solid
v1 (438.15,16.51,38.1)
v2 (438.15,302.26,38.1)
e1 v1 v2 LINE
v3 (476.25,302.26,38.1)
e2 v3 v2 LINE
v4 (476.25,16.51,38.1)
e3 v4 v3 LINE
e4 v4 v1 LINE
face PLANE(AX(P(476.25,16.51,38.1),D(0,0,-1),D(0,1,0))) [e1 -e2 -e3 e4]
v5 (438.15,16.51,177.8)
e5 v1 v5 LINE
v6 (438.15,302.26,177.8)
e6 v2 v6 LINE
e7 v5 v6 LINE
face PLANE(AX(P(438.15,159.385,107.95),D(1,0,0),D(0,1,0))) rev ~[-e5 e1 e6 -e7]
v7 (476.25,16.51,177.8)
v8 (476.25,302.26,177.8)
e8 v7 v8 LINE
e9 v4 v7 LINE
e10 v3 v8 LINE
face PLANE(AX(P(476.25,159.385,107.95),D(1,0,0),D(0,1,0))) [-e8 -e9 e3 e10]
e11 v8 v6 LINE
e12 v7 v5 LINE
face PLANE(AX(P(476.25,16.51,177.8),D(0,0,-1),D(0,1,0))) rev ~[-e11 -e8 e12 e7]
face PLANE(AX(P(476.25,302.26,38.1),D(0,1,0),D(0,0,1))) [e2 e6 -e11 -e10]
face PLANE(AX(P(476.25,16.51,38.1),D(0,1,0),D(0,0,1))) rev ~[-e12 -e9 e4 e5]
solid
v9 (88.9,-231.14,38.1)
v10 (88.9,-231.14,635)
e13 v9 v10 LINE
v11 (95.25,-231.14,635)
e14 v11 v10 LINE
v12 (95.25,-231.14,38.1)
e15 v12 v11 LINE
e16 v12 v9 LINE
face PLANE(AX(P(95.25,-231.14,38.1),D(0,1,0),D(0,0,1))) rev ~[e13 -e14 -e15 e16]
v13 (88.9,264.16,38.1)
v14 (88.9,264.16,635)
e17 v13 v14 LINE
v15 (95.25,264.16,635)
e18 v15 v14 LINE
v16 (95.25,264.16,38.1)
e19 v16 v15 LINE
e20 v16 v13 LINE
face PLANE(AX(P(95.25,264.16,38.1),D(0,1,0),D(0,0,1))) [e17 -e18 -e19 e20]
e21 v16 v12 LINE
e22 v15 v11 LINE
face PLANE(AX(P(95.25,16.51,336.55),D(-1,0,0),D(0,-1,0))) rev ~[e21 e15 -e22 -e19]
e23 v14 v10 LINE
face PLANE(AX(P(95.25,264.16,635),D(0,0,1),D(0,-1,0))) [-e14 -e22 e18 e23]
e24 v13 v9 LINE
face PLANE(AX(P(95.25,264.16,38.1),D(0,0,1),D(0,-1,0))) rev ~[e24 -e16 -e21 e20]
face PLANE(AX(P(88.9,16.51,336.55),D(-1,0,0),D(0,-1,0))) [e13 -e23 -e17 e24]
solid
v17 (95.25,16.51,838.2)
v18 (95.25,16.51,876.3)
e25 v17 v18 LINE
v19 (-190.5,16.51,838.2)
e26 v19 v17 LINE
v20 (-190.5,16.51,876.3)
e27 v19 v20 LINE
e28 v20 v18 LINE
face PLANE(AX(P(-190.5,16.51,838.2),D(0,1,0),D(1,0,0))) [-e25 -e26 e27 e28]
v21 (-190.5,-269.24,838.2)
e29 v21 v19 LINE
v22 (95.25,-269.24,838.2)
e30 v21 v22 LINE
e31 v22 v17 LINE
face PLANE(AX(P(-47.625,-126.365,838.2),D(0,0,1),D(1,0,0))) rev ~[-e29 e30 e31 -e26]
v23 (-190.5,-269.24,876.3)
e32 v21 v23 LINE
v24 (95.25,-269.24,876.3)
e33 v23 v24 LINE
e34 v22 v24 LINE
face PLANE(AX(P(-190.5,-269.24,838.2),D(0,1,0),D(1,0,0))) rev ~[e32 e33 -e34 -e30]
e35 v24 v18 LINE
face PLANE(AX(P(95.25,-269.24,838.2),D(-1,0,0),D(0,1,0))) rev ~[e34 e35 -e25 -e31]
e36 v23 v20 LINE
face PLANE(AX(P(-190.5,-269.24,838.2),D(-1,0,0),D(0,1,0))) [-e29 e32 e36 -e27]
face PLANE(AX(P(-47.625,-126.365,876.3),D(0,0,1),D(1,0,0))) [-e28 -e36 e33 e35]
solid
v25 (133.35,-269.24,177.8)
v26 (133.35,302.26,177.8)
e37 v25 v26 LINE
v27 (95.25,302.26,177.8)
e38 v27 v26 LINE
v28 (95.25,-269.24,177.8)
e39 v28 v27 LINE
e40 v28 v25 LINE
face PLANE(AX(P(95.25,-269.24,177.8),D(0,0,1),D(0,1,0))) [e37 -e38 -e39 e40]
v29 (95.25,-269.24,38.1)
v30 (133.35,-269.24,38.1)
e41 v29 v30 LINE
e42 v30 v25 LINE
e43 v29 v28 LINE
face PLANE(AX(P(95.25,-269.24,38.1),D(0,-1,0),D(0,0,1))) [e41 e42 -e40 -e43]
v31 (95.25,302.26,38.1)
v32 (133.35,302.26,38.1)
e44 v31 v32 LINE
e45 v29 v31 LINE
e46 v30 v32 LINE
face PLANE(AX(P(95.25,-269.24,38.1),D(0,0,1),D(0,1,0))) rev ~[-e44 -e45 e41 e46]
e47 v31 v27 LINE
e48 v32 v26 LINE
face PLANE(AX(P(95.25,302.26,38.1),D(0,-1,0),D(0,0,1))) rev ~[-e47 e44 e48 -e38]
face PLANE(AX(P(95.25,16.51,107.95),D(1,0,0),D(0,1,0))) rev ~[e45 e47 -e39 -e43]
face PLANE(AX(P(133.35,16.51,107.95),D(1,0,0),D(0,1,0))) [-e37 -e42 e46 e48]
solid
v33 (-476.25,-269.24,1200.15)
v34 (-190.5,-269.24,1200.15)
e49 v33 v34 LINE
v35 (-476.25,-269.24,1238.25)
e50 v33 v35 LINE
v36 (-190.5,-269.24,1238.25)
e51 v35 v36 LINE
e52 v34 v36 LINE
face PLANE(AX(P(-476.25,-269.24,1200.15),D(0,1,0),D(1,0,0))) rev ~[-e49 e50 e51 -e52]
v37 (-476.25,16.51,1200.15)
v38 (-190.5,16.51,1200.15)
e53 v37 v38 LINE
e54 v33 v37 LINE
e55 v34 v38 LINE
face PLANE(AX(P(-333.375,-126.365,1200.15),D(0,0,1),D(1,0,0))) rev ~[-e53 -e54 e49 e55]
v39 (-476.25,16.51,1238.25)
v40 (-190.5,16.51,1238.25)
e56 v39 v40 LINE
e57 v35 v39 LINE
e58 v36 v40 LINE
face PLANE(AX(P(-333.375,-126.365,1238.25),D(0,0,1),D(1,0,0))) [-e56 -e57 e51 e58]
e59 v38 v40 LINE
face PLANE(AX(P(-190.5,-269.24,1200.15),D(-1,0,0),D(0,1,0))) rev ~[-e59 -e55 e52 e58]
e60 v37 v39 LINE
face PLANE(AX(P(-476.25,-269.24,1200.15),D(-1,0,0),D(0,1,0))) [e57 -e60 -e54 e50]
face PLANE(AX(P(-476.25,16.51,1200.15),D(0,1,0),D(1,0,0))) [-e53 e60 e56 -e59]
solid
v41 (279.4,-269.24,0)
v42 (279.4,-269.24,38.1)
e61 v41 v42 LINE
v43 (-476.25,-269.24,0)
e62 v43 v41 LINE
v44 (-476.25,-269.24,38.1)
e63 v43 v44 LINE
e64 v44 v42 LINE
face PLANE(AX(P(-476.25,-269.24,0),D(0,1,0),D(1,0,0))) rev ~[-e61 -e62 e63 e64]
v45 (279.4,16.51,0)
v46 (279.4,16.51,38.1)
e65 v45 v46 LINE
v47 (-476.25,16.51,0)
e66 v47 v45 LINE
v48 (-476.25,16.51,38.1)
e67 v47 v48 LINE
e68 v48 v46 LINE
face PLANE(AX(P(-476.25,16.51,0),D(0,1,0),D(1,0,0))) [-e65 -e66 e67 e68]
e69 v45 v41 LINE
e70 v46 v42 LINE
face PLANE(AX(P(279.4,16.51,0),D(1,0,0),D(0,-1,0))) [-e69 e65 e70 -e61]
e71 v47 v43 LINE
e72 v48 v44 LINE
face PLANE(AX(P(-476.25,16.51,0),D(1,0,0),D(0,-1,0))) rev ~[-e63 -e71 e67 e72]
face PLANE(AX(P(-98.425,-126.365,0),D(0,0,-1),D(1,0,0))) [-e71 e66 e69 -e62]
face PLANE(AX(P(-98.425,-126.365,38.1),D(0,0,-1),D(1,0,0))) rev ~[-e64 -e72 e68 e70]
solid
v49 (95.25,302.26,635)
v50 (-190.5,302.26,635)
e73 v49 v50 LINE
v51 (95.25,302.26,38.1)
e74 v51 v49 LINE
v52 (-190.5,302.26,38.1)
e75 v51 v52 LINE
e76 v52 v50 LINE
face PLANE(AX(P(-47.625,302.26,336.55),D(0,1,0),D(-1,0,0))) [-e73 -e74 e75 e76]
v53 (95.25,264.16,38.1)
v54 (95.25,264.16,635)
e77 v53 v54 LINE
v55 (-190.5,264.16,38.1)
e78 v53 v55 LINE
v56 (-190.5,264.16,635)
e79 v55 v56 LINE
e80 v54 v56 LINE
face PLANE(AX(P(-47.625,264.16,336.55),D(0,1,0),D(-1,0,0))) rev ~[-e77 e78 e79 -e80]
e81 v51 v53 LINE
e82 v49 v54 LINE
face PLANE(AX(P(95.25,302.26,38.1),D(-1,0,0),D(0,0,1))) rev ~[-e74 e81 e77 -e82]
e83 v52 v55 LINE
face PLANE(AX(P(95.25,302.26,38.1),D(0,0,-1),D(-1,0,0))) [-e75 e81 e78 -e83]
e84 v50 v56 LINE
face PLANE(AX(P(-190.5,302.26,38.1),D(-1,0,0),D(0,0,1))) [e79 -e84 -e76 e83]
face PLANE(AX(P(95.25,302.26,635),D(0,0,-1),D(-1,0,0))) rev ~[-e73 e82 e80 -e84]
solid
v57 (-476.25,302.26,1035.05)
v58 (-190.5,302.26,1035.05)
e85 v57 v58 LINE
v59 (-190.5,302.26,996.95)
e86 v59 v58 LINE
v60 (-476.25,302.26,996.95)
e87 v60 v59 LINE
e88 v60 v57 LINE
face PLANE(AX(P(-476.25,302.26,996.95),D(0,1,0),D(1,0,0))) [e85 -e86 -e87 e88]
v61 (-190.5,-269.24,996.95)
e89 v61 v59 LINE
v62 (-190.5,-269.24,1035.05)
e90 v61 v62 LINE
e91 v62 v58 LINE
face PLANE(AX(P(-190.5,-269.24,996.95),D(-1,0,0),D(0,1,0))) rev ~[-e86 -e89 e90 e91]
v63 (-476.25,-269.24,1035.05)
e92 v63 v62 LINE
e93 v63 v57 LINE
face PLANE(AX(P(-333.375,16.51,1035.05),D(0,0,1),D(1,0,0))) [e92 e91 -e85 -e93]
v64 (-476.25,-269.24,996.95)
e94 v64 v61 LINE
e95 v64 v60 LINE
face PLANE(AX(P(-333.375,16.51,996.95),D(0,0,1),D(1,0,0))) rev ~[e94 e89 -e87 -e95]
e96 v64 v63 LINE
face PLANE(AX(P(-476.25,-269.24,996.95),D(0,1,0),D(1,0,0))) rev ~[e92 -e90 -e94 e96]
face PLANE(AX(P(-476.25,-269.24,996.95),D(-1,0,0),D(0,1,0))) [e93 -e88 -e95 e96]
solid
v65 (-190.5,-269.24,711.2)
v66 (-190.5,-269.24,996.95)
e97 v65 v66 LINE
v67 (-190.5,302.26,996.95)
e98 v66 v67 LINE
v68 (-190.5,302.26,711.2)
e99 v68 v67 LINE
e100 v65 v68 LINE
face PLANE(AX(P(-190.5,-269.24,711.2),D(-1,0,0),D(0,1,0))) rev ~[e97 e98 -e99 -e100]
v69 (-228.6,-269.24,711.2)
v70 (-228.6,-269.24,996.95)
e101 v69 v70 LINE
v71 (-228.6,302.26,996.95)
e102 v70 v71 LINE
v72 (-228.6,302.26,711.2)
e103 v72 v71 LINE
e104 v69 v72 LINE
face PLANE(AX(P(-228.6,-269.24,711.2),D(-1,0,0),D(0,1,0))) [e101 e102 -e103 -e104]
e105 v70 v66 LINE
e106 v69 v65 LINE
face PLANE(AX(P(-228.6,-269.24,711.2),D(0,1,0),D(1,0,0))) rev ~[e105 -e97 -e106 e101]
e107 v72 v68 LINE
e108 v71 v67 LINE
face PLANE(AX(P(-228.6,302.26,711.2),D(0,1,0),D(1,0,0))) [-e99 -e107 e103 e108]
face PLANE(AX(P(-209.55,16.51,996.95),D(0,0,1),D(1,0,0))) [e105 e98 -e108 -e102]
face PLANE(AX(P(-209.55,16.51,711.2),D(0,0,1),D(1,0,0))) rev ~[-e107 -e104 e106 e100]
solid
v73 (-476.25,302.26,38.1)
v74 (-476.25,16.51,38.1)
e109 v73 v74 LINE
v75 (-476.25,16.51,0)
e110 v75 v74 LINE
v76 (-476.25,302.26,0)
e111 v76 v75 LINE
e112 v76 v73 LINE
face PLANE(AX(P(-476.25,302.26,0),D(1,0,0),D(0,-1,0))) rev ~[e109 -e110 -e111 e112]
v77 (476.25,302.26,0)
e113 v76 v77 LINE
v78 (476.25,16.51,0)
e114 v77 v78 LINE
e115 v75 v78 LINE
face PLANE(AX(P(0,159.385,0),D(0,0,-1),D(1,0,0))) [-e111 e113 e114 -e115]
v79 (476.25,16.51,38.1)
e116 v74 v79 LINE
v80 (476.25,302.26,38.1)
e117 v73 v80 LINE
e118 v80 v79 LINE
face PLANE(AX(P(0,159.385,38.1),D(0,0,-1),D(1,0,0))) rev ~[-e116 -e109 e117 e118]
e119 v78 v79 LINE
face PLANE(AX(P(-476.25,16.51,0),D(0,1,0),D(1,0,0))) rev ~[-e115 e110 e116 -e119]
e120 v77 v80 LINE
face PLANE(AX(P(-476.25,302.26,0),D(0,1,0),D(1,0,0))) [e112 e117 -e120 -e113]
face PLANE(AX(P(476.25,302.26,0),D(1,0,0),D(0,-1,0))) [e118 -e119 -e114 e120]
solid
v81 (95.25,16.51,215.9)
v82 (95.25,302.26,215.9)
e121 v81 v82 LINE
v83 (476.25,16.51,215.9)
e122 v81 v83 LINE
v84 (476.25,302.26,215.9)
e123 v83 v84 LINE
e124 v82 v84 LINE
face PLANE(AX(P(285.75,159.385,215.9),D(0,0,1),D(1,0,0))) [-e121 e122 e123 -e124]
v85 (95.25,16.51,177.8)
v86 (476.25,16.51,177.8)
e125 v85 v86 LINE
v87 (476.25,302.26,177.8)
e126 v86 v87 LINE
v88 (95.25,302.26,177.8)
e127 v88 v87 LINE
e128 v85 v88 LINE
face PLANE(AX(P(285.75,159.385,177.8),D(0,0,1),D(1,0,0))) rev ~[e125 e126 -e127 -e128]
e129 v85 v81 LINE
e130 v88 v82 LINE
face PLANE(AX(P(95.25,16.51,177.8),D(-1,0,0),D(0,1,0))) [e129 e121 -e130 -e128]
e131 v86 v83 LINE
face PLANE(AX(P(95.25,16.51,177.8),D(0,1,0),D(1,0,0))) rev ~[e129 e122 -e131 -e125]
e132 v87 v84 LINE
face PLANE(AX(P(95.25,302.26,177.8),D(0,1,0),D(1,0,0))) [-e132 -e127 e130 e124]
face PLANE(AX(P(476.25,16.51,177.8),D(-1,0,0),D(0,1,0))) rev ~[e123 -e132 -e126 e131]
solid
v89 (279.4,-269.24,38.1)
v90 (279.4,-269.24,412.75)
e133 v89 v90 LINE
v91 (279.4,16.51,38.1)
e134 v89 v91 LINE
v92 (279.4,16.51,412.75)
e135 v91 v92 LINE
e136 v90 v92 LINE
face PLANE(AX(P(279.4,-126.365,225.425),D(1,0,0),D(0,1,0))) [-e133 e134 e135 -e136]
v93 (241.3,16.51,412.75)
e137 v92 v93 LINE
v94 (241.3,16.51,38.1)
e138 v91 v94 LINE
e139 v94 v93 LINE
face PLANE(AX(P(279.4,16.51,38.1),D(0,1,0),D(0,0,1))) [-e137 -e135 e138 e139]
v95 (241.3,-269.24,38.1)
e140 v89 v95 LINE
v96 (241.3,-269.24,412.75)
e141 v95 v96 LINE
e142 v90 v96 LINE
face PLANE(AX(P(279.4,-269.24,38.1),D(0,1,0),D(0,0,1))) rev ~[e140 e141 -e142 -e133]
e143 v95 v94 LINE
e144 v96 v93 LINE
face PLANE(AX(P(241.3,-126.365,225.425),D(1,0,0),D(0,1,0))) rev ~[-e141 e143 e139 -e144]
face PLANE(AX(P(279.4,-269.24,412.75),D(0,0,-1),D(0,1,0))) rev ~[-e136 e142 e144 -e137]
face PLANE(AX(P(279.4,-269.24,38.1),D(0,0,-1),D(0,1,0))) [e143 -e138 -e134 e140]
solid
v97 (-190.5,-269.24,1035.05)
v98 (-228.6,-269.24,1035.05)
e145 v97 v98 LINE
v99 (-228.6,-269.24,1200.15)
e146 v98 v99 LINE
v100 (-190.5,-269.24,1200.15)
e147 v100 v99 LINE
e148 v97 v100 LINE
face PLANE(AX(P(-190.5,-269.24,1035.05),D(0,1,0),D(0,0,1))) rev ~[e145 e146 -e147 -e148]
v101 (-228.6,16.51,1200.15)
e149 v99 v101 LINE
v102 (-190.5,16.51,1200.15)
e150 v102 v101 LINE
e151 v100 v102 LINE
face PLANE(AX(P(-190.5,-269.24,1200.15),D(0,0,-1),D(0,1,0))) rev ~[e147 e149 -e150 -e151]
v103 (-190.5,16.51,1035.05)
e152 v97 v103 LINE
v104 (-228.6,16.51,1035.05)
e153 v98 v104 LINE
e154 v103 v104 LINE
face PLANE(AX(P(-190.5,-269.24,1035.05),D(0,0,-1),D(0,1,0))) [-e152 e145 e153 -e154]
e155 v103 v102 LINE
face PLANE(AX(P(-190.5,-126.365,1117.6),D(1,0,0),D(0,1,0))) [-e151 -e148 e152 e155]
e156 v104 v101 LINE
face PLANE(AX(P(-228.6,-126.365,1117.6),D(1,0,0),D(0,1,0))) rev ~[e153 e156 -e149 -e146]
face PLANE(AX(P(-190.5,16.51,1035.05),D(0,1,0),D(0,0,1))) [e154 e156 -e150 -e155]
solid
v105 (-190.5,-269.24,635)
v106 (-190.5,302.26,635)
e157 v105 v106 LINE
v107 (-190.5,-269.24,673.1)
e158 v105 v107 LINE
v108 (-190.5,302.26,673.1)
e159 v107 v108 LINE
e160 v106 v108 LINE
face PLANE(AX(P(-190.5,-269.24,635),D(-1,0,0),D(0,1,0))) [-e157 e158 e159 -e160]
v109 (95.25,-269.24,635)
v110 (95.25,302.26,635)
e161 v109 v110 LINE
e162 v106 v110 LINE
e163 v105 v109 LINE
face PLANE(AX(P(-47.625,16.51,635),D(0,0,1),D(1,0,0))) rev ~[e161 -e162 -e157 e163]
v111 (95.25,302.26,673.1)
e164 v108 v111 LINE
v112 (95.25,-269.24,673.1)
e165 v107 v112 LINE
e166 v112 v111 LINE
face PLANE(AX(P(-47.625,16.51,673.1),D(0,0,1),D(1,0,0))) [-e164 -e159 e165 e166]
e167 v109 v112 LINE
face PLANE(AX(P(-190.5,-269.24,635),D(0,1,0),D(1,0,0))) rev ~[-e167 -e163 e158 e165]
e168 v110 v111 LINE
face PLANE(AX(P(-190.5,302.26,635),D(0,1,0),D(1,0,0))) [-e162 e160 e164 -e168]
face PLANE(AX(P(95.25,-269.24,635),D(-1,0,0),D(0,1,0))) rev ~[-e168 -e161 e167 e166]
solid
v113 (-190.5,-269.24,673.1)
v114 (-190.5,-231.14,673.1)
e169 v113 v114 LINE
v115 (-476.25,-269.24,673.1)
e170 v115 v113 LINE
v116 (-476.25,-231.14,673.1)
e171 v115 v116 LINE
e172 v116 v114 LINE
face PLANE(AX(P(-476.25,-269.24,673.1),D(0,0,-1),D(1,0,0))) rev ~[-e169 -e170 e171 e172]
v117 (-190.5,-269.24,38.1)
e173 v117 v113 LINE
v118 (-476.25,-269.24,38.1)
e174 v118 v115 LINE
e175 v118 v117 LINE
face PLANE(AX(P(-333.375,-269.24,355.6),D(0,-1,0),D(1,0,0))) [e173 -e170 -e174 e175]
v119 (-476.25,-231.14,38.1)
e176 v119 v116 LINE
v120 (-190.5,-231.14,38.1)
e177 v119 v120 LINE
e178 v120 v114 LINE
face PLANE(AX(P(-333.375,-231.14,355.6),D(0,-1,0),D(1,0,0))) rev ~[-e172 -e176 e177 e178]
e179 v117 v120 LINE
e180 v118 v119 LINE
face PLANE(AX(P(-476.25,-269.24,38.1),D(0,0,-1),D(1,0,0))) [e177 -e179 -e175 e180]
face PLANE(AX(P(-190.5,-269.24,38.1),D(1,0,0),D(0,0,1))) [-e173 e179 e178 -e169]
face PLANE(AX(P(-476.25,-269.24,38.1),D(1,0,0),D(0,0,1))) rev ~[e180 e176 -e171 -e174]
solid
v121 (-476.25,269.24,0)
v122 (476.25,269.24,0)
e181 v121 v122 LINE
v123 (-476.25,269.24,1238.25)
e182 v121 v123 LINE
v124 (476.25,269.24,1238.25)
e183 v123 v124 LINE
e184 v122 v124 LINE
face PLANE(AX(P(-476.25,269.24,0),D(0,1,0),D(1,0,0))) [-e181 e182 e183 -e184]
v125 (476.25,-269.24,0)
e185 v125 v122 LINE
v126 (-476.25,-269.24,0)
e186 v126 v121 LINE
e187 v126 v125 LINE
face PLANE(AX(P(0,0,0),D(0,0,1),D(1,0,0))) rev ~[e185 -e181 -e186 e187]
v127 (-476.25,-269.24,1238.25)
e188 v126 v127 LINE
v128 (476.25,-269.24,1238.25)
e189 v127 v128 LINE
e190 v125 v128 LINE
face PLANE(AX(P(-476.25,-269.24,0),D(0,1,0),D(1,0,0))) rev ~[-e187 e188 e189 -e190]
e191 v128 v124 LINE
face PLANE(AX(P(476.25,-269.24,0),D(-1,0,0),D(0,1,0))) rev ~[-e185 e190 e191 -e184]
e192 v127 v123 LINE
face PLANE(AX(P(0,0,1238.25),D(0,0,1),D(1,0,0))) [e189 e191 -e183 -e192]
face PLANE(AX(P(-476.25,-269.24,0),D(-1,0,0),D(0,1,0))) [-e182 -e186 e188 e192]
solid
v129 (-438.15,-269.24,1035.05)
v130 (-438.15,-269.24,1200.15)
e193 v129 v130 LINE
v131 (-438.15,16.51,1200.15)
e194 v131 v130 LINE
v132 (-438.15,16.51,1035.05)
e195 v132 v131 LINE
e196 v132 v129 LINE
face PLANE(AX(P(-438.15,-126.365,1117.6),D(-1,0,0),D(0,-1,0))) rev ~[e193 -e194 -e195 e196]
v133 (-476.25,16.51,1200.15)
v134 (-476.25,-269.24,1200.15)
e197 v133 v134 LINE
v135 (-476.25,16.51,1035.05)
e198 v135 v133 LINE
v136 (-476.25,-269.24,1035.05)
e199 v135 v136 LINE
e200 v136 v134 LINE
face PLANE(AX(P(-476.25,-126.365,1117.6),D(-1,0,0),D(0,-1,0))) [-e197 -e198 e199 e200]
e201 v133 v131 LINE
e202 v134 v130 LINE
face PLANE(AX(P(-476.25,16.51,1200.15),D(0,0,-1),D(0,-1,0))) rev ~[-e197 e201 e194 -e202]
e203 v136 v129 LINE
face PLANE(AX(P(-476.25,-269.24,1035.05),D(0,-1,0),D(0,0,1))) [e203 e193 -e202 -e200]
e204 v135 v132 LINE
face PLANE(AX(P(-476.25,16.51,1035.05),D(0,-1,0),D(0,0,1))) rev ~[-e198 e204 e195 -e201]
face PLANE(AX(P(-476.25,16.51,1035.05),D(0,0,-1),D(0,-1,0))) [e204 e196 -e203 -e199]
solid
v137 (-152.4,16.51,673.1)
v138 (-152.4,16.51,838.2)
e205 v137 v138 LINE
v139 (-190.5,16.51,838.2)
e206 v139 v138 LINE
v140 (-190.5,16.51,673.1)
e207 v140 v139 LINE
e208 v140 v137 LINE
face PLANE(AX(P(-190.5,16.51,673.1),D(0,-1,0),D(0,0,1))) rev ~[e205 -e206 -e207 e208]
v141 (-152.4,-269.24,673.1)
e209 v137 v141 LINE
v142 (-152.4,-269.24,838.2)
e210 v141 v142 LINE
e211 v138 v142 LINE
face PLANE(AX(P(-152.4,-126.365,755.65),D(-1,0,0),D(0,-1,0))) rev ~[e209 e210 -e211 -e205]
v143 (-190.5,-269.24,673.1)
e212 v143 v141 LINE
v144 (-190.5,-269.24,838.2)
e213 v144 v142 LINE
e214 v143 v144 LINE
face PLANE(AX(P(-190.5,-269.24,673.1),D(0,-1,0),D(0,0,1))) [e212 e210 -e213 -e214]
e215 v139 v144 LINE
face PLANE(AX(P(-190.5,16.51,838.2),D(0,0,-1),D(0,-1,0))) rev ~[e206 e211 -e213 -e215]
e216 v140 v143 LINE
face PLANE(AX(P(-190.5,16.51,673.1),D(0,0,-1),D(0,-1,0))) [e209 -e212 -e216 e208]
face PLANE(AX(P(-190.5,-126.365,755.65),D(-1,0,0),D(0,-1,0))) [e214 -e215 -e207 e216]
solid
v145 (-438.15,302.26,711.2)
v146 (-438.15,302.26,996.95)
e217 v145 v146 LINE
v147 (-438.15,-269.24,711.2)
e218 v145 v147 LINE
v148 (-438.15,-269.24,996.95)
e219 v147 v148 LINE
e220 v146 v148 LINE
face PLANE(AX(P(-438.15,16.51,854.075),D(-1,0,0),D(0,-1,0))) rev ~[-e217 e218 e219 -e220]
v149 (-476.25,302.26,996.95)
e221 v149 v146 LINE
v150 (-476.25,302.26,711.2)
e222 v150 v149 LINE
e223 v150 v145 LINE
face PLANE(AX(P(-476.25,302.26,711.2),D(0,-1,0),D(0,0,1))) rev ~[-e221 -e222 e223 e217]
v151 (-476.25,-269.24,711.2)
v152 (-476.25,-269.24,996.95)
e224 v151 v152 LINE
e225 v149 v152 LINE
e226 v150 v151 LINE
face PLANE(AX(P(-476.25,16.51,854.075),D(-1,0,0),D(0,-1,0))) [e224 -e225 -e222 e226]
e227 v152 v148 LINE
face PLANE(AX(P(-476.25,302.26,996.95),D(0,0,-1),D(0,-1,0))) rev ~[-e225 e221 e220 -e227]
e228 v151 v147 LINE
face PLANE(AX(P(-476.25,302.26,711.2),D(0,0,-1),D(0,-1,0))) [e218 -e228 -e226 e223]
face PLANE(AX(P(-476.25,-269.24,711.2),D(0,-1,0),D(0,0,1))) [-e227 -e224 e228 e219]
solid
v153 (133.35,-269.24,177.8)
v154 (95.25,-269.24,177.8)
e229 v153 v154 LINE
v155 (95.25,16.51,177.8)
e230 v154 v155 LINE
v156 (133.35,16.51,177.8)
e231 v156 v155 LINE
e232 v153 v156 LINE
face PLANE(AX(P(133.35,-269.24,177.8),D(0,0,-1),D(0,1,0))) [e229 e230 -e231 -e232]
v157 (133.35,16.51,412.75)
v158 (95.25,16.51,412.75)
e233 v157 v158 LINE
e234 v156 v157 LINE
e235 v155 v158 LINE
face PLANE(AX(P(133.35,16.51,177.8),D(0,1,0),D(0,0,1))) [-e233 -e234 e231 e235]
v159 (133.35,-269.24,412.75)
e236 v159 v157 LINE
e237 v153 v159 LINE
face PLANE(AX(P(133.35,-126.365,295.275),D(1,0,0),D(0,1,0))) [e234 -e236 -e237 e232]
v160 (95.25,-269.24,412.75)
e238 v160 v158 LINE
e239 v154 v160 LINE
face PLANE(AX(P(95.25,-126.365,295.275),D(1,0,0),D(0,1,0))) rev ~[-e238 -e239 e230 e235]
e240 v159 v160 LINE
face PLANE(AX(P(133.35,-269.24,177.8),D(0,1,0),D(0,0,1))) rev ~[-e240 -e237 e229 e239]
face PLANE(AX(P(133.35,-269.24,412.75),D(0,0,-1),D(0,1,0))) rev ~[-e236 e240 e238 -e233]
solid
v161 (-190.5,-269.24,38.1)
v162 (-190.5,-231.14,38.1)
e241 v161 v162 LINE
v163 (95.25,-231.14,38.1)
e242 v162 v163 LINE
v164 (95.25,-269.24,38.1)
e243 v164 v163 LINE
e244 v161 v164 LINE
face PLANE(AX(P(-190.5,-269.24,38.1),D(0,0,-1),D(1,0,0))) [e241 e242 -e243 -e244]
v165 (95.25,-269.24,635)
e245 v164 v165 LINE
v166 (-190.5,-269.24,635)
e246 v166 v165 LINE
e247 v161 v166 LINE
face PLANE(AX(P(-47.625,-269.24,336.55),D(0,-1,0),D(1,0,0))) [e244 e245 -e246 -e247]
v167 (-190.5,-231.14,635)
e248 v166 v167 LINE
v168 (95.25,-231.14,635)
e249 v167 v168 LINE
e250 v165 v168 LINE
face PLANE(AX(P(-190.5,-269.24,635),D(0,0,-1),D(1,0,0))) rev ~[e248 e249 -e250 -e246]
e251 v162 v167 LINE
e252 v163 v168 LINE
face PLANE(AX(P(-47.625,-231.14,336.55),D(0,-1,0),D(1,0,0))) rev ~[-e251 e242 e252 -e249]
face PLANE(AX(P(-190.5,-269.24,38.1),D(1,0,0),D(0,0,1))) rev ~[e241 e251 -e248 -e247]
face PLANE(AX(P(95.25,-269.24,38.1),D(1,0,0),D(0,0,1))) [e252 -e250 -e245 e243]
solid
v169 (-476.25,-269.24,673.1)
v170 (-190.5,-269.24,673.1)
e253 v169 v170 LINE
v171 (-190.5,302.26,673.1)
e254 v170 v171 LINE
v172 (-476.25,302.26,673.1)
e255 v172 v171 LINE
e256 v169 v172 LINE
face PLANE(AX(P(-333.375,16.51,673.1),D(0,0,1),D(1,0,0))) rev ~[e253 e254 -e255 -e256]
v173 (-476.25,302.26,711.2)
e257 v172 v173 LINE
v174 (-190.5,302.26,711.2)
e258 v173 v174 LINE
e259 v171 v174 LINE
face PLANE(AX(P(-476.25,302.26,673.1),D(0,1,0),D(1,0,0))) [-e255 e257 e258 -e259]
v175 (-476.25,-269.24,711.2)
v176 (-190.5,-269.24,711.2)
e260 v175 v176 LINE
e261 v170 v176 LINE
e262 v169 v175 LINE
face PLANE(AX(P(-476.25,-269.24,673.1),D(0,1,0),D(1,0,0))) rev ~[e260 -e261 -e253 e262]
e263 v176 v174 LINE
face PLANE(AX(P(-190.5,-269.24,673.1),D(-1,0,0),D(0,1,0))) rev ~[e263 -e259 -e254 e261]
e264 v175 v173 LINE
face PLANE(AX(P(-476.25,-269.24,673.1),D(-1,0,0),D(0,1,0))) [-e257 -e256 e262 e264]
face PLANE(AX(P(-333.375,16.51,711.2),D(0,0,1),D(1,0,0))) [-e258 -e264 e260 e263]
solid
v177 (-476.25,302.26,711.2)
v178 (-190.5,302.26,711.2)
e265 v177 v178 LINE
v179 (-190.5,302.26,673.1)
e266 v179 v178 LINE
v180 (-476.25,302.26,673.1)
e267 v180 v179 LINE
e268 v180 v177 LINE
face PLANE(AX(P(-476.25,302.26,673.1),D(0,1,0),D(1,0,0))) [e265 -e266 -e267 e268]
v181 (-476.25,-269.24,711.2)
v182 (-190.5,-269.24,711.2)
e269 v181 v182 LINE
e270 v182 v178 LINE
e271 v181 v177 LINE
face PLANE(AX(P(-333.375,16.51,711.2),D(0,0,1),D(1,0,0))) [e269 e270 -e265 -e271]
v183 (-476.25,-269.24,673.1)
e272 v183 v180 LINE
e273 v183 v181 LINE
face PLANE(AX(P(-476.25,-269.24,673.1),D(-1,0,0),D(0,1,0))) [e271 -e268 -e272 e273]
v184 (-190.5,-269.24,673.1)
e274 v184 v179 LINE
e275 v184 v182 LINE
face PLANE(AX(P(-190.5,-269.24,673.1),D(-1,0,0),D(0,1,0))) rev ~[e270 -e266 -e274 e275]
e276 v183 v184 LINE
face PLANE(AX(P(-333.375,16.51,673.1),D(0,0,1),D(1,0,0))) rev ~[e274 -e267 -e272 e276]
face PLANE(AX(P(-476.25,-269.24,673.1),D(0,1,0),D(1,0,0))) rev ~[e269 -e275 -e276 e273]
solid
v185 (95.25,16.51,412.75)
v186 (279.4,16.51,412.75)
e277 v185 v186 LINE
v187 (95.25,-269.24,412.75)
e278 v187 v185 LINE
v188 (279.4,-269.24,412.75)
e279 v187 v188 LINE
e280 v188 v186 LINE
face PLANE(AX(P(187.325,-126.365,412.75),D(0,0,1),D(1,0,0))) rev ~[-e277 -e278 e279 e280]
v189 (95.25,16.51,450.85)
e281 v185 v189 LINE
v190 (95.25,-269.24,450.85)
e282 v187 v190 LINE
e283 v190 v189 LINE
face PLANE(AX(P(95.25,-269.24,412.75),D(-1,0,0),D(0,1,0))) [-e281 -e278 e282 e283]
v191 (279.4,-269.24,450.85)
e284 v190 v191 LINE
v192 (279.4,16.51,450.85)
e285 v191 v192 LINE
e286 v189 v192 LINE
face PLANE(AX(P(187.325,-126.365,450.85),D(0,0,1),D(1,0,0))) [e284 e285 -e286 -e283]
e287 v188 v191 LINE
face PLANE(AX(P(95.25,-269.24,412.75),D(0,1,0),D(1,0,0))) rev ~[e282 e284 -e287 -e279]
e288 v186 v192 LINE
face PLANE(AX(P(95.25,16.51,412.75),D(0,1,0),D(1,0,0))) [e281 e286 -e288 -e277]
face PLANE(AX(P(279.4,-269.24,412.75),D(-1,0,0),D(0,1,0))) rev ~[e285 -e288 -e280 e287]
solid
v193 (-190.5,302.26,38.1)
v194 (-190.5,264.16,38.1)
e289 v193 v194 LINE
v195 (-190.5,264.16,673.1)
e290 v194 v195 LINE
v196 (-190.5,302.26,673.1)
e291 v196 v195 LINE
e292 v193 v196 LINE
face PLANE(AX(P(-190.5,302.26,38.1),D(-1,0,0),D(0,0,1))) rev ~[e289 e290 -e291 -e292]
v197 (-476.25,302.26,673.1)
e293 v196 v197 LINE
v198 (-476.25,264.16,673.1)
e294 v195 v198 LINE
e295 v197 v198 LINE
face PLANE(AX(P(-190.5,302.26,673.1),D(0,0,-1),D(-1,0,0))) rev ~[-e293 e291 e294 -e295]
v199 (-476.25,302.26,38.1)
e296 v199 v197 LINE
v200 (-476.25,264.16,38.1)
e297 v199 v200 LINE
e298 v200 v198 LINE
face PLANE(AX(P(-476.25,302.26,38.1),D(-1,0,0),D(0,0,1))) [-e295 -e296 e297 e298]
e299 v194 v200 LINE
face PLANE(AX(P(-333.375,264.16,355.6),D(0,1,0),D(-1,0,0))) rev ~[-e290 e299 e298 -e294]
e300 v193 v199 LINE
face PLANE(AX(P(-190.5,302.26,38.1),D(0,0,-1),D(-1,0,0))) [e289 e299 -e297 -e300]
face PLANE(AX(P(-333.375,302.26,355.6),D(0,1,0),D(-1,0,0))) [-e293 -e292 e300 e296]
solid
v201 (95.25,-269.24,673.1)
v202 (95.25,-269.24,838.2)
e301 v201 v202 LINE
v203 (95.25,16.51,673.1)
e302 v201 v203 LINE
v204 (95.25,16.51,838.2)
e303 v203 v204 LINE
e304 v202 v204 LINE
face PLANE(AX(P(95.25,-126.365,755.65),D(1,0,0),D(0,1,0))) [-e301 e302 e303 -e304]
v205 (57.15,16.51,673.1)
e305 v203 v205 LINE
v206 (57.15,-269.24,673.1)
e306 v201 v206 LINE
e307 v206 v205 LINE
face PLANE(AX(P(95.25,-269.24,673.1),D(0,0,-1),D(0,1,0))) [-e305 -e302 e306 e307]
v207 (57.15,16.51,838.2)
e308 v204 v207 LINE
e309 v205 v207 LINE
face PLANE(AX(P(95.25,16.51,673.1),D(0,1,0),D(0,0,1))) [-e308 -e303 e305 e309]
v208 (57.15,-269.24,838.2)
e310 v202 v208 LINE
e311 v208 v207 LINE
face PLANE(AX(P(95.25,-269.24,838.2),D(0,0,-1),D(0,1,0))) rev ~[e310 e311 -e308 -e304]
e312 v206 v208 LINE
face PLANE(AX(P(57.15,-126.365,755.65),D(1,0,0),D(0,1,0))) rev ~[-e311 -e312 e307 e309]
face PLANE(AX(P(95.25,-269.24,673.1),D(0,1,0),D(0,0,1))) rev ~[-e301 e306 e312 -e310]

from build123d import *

# Parameters (mm, degrees)
F0_W      = 952.5
F0_H      = 538.48
F1_DEPTH  = 1238.25
F2_W      = 755.65
F2_H      = 285.75
F3_DEPTH  = 38.1
F4_W      = 952.5
F4_H      = 285.75
F5_DEPTH  = 38.1
F6_W      = 285.75
F6_H      = 635
F7_DEPTH  = 38.1
F8_W      = 285.75
F8_H      = 596.9
F9_DEPTH  = 38.1
F10_W     = 285.75
F10_H     = 635
F11_DEPTH = 38.1
F12_W     = 285.75
F12_H     = 596.9
F13_DEPTH = 38.1
F14_W     = 571.5
F14_H     = 139.7
F15_DEPTH = 38.1
F16_W     = 285.75
F16_H     = 374.65
F17_DEPTH = 38.1
F18_W     = 285.75
F18_H     = 139.7
F19_DEPTH = 38.1
F20_W     = 381
F20_H     = 285.75
F21_DEPTH = 38.1
F22_W     = 285.75
F22_H     = 234.95
F23_DEPTH = 38.1
F24_W     = 184.15
F24_H     = 285.75
F25_DEPTH = 38.1
F26_W     = 285.75
F26_H     = 571.5
F27_DEPTH = 38.1
F28_W     = 285.75
F28_H     = 571.5
F29_DEPTH = 38.1
F30_W     = 285.75
F30_H     = 165.1
F31_DEPTH = 38.1
F32_W     = 285.75
F32_H     = 165.1
F33_DEPTH = 38.1
F34_W     = 285.75
F34_H     = 285.75
F35_DEPTH = 38.1
F36_W     = 285.75
F36_H     = 571.5
F37_DEPTH = 38.1
F38_W     = 38.1
F38_H     = 571.5
F39_DEPTH = 285.75
F40_W     = 571.5
F40_H     = 285.75
F41_DEPTH = 38.1
F42_W     = 285.75
F42_H     = 571.5
F43_DEPTH = 38.1
F44_W     = 285.75
F44_H     = 165.1
F45_DEPTH = 38.1
F46_W     = 285.75
F46_H     = 165.1
F47_DEPTH = 38.1
F48_W     = 285.75
F48_H     = 285.75
F49_DEPTH = 38.1
F50_W     = 495.3
F50_H     = 596.9
F51_DEPTH = 6.35


with BuildPart() as f1:
    # F0 (on Top) → F1 (new body)
    with BuildSketch(Plane.XY):
        Rectangle(F0_W, F0_H)
    extrude(amount=F1_DEPTH)


with BuildPart() as f3:
    # F2 (on face) → F3 (new body)
    with BuildSketch(Plane(origin=(0, 0, 0), x_dir=(1, 0, 0), z_dir=(0, 0, -1))):
        with Locations((-98.425, 126.365)):
            Rectangle(F2_W, F2_H)
    extrude(amount=-F3_DEPTH)


with BuildPart() as f5:
    # F4 (on face) → F5 (new body)
    with BuildSketch(Plane(origin=(0, 0, 0), x_dir=(1, 0, 0), z_dir=(0, 0, -1))):
        with Locations((0, -159.385)):
            Rectangle(F4_W, F4_H)
    extrude(amount=-F5_DEPTH)


with BuildPart() as f7:
    # F6 (on face) → F7 (new body)
    with BuildSketch(Plane(origin=(0, 302.26, 0), x_dir=(-1, 0, 0), z_dir=(0, 1, 0))):
        with Locations((333.375, 355.6)):
            Rectangle(F6_W, F6_H)
    extrude(amount=-F7_DEPTH)


with BuildPart() as f9:
    # F8 (on face) → F9 (new body)
    with BuildSketch(Plane(origin=(0, 302.26, 0), x_dir=(-1, 0, 0), z_dir=(0, 1, 0))):
        with Locations((47.625, 336.55)):
            Rectangle(F8_W, F8_H)
    extrude(amount=-F9_DEPTH)


with BuildPart() as f11:
    # F10 (on face) → F11 (new body)
    with BuildSketch(Plane.XZ.offset(269.24)):
        with Locations((-333.375, 355.6)):
            Rectangle(F10_W, F10_H)
    extrude(amount=-F11_DEPTH)


with BuildPart() as f13:
    # F12 (on face) → F13 (new body)
    with BuildSketch(Plane.XZ.offset(269.24)):
        with Locations((-47.625, 336.55)):
            Rectangle(F12_W, F12_H)
    extrude(amount=-F13_DEPTH)


with BuildPart() as f15:
    # F14 (on face) → F15 (new body)
    with BuildSketch(Plane.YZ.offset(95.25)):
        with Locations((16.51, 107.95)):
            Rectangle(F14_W, F14_H)
    extrude(amount=F15_DEPTH)


with BuildPart() as f17:
    # F16 (on face) → F17 (new body)
    with BuildSketch(Plane.YZ.offset(279.4)):
        with Locations((-126.365, 225.425)):
            Rectangle(F16_W, F16_H)
    extrude(amount=-F17_DEPTH)


with BuildPart() as f19:
    # F18 (on face) → F19 (new body)
    with BuildSketch(Plane.YZ.offset(476.25)):
        with Locations((159.385, 107.95)):
            Rectangle(F18_W, F18_H)
    extrude(amount=-F19_DEPTH)


with BuildPart() as f21:
    # F20 (on face) → F21 (new body)
    with BuildSketch(Plane.XY.offset(177.8)):
        with Locations((285.75, 159.385)):
            Rectangle(F20_W, F20_H)
    extrude(amount=F21_DEPTH)


with BuildPart() as f23:
    # F22 (on face) → F23 (new body)
    with BuildSketch(Plane.YZ.offset(133.35)):
        with Locations((-126.365, 295.275)):
            Rectangle(F22_W, F22_H)
    extrude(amount=-F23_DEPTH)


with BuildPart() as f25:
    # F24 (on face) → F25 (new body)
    with BuildSketch(Plane.XY.offset(412.75)):
        with Locations((187.325, -126.365)):
            Rectangle(F24_W, F24_H)
    extrude(amount=F25_DEPTH)


with BuildPart() as f27:
    # F26 (on face) → F27 (new body)
    with BuildSketch(Plane.XY.offset(635)):
        with Locations((-47.625, 16.51)):
            Rectangle(F26_W, F26_H)
    extrude(amount=F27_DEPTH)


with BuildPart() as f29:
    # F28 (on face) → F29 (new body)
    with BuildSketch(Plane.XY.offset(996.95)):
        with Locations((-333.375, 16.51)):
            Rectangle(F28_W, F28_H)
    extrude(amount=F29_DEPTH)


with BuildPart() as f31:
    # F30 (on face) → F31 (new body)
    with BuildSketch(Plane.YZ.offset(95.25)):
        with Locations((-126.365, 755.65)):
            Rectangle(F30_W, F30_H)
    extrude(amount=-F31_DEPTH)


with BuildPart() as f33:
    # F32 (on face) → F33 (new body)
    with BuildSketch(Plane(origin=(-190.5, 0, 0), x_dir=(0, -1, 0), z_dir=(-1, 0, 0))):
        with Locations((126.365, 755.65)):
            Rectangle(F32_W, F32_H)
    extrude(amount=-F33_DEPTH)


with BuildPart() as f35:
    # F34 (on face) → F35 (new body)
    with BuildSketch(Plane.XY.offset(838.2)):
        with Locations((-47.625, -126.365)):
            Rectangle(F34_W, F34_H)
    extrude(amount=F35_DEPTH)


with BuildPart() as f37:
    # F36 (on face) → F37 (new body)
    with BuildSketch(Plane.XY.offset(673.1)):
        with Locations((-333.375, 16.51)):
            Rectangle(F36_W, F36_H)
    extrude(amount=F37_DEPTH)


with BuildPart() as f39:
    # F38 (on face) → F39 (new body)
    with BuildSketch(Plane.XY.offset(711.2)):
        with Locations((-209.55, 16.51)):
            Rectangle(F38_W, F38_H)
    extrude(amount=F39_DEPTH)


with BuildPart() as f41:
    # F40 (on face) → F41 (new body)
    with BuildSketch(Plane(origin=(-476.25, 0, 0), x_dir=(0, -1, 0), z_dir=(-1, 0, 0))):
        with Locations((-16.51, 854.075)):
            Rectangle(F40_W, F40_H)
    extrude(amount=-F41_DEPTH)


with BuildPart() as f43:
    # F42 (on face) → F43 (new body)
    with BuildSketch(Plane.XY.offset(673.1)):
        with Locations((-333.375, 16.51)):
            Rectangle(F42_W, F42_H)
    extrude(amount=F43_DEPTH)


with BuildPart() as f45:
    # F44 (on face) → F45 (new body)
    with BuildSketch(Plane.YZ.offset(-190.5)):
        with Locations((-126.365, 1117.6)):
            Rectangle(F44_W, F44_H)
    extrude(amount=-F45_DEPTH)


with BuildPart() as f47:
    # F46 (on face) → F47 (new body)
    with BuildSketch(Plane(origin=(-476.25, 0, 0), x_dir=(0, -1, 0), z_dir=(-1, 0, 0))):
        with Locations((126.365, 1117.6)):
            Rectangle(F46_W, F46_H)
    extrude(amount=-F47_DEPTH)


with BuildPart() as f49:
    # F48 (on face) → F49 (new body)
    with BuildSketch(Plane.XY.offset(1200.15)):
        with Locations((-333.375, -126.365)):
            Rectangle(F48_W, F48_H)
    extrude(amount=F49_DEPTH)


with BuildPart() as f51:
    # F50 (on face) → F51 (new body)
    with BuildSketch(Plane(origin=(95.25, 0, 0), x_dir=(0, -1, 0), z_dir=(-1, 0, 0))):
        with Locations((-16.51, 336.55)):
            Rectangle(F50_W, F50_H)
    extrude(amount=F51_DEPTH)


solid = Compound([f1.part, f3.part, f5.part, f7.part, f9.part, f11.part, f13.part, f15.part, f17.part, f19.part, f21.part, f23.part, f25.part, f27.part, f29.part, f31.part, f33.part, f35.part, f37.part, f39.part, f41.part, f43.part, f45.part, f47.part, f49.part, f51.part])
